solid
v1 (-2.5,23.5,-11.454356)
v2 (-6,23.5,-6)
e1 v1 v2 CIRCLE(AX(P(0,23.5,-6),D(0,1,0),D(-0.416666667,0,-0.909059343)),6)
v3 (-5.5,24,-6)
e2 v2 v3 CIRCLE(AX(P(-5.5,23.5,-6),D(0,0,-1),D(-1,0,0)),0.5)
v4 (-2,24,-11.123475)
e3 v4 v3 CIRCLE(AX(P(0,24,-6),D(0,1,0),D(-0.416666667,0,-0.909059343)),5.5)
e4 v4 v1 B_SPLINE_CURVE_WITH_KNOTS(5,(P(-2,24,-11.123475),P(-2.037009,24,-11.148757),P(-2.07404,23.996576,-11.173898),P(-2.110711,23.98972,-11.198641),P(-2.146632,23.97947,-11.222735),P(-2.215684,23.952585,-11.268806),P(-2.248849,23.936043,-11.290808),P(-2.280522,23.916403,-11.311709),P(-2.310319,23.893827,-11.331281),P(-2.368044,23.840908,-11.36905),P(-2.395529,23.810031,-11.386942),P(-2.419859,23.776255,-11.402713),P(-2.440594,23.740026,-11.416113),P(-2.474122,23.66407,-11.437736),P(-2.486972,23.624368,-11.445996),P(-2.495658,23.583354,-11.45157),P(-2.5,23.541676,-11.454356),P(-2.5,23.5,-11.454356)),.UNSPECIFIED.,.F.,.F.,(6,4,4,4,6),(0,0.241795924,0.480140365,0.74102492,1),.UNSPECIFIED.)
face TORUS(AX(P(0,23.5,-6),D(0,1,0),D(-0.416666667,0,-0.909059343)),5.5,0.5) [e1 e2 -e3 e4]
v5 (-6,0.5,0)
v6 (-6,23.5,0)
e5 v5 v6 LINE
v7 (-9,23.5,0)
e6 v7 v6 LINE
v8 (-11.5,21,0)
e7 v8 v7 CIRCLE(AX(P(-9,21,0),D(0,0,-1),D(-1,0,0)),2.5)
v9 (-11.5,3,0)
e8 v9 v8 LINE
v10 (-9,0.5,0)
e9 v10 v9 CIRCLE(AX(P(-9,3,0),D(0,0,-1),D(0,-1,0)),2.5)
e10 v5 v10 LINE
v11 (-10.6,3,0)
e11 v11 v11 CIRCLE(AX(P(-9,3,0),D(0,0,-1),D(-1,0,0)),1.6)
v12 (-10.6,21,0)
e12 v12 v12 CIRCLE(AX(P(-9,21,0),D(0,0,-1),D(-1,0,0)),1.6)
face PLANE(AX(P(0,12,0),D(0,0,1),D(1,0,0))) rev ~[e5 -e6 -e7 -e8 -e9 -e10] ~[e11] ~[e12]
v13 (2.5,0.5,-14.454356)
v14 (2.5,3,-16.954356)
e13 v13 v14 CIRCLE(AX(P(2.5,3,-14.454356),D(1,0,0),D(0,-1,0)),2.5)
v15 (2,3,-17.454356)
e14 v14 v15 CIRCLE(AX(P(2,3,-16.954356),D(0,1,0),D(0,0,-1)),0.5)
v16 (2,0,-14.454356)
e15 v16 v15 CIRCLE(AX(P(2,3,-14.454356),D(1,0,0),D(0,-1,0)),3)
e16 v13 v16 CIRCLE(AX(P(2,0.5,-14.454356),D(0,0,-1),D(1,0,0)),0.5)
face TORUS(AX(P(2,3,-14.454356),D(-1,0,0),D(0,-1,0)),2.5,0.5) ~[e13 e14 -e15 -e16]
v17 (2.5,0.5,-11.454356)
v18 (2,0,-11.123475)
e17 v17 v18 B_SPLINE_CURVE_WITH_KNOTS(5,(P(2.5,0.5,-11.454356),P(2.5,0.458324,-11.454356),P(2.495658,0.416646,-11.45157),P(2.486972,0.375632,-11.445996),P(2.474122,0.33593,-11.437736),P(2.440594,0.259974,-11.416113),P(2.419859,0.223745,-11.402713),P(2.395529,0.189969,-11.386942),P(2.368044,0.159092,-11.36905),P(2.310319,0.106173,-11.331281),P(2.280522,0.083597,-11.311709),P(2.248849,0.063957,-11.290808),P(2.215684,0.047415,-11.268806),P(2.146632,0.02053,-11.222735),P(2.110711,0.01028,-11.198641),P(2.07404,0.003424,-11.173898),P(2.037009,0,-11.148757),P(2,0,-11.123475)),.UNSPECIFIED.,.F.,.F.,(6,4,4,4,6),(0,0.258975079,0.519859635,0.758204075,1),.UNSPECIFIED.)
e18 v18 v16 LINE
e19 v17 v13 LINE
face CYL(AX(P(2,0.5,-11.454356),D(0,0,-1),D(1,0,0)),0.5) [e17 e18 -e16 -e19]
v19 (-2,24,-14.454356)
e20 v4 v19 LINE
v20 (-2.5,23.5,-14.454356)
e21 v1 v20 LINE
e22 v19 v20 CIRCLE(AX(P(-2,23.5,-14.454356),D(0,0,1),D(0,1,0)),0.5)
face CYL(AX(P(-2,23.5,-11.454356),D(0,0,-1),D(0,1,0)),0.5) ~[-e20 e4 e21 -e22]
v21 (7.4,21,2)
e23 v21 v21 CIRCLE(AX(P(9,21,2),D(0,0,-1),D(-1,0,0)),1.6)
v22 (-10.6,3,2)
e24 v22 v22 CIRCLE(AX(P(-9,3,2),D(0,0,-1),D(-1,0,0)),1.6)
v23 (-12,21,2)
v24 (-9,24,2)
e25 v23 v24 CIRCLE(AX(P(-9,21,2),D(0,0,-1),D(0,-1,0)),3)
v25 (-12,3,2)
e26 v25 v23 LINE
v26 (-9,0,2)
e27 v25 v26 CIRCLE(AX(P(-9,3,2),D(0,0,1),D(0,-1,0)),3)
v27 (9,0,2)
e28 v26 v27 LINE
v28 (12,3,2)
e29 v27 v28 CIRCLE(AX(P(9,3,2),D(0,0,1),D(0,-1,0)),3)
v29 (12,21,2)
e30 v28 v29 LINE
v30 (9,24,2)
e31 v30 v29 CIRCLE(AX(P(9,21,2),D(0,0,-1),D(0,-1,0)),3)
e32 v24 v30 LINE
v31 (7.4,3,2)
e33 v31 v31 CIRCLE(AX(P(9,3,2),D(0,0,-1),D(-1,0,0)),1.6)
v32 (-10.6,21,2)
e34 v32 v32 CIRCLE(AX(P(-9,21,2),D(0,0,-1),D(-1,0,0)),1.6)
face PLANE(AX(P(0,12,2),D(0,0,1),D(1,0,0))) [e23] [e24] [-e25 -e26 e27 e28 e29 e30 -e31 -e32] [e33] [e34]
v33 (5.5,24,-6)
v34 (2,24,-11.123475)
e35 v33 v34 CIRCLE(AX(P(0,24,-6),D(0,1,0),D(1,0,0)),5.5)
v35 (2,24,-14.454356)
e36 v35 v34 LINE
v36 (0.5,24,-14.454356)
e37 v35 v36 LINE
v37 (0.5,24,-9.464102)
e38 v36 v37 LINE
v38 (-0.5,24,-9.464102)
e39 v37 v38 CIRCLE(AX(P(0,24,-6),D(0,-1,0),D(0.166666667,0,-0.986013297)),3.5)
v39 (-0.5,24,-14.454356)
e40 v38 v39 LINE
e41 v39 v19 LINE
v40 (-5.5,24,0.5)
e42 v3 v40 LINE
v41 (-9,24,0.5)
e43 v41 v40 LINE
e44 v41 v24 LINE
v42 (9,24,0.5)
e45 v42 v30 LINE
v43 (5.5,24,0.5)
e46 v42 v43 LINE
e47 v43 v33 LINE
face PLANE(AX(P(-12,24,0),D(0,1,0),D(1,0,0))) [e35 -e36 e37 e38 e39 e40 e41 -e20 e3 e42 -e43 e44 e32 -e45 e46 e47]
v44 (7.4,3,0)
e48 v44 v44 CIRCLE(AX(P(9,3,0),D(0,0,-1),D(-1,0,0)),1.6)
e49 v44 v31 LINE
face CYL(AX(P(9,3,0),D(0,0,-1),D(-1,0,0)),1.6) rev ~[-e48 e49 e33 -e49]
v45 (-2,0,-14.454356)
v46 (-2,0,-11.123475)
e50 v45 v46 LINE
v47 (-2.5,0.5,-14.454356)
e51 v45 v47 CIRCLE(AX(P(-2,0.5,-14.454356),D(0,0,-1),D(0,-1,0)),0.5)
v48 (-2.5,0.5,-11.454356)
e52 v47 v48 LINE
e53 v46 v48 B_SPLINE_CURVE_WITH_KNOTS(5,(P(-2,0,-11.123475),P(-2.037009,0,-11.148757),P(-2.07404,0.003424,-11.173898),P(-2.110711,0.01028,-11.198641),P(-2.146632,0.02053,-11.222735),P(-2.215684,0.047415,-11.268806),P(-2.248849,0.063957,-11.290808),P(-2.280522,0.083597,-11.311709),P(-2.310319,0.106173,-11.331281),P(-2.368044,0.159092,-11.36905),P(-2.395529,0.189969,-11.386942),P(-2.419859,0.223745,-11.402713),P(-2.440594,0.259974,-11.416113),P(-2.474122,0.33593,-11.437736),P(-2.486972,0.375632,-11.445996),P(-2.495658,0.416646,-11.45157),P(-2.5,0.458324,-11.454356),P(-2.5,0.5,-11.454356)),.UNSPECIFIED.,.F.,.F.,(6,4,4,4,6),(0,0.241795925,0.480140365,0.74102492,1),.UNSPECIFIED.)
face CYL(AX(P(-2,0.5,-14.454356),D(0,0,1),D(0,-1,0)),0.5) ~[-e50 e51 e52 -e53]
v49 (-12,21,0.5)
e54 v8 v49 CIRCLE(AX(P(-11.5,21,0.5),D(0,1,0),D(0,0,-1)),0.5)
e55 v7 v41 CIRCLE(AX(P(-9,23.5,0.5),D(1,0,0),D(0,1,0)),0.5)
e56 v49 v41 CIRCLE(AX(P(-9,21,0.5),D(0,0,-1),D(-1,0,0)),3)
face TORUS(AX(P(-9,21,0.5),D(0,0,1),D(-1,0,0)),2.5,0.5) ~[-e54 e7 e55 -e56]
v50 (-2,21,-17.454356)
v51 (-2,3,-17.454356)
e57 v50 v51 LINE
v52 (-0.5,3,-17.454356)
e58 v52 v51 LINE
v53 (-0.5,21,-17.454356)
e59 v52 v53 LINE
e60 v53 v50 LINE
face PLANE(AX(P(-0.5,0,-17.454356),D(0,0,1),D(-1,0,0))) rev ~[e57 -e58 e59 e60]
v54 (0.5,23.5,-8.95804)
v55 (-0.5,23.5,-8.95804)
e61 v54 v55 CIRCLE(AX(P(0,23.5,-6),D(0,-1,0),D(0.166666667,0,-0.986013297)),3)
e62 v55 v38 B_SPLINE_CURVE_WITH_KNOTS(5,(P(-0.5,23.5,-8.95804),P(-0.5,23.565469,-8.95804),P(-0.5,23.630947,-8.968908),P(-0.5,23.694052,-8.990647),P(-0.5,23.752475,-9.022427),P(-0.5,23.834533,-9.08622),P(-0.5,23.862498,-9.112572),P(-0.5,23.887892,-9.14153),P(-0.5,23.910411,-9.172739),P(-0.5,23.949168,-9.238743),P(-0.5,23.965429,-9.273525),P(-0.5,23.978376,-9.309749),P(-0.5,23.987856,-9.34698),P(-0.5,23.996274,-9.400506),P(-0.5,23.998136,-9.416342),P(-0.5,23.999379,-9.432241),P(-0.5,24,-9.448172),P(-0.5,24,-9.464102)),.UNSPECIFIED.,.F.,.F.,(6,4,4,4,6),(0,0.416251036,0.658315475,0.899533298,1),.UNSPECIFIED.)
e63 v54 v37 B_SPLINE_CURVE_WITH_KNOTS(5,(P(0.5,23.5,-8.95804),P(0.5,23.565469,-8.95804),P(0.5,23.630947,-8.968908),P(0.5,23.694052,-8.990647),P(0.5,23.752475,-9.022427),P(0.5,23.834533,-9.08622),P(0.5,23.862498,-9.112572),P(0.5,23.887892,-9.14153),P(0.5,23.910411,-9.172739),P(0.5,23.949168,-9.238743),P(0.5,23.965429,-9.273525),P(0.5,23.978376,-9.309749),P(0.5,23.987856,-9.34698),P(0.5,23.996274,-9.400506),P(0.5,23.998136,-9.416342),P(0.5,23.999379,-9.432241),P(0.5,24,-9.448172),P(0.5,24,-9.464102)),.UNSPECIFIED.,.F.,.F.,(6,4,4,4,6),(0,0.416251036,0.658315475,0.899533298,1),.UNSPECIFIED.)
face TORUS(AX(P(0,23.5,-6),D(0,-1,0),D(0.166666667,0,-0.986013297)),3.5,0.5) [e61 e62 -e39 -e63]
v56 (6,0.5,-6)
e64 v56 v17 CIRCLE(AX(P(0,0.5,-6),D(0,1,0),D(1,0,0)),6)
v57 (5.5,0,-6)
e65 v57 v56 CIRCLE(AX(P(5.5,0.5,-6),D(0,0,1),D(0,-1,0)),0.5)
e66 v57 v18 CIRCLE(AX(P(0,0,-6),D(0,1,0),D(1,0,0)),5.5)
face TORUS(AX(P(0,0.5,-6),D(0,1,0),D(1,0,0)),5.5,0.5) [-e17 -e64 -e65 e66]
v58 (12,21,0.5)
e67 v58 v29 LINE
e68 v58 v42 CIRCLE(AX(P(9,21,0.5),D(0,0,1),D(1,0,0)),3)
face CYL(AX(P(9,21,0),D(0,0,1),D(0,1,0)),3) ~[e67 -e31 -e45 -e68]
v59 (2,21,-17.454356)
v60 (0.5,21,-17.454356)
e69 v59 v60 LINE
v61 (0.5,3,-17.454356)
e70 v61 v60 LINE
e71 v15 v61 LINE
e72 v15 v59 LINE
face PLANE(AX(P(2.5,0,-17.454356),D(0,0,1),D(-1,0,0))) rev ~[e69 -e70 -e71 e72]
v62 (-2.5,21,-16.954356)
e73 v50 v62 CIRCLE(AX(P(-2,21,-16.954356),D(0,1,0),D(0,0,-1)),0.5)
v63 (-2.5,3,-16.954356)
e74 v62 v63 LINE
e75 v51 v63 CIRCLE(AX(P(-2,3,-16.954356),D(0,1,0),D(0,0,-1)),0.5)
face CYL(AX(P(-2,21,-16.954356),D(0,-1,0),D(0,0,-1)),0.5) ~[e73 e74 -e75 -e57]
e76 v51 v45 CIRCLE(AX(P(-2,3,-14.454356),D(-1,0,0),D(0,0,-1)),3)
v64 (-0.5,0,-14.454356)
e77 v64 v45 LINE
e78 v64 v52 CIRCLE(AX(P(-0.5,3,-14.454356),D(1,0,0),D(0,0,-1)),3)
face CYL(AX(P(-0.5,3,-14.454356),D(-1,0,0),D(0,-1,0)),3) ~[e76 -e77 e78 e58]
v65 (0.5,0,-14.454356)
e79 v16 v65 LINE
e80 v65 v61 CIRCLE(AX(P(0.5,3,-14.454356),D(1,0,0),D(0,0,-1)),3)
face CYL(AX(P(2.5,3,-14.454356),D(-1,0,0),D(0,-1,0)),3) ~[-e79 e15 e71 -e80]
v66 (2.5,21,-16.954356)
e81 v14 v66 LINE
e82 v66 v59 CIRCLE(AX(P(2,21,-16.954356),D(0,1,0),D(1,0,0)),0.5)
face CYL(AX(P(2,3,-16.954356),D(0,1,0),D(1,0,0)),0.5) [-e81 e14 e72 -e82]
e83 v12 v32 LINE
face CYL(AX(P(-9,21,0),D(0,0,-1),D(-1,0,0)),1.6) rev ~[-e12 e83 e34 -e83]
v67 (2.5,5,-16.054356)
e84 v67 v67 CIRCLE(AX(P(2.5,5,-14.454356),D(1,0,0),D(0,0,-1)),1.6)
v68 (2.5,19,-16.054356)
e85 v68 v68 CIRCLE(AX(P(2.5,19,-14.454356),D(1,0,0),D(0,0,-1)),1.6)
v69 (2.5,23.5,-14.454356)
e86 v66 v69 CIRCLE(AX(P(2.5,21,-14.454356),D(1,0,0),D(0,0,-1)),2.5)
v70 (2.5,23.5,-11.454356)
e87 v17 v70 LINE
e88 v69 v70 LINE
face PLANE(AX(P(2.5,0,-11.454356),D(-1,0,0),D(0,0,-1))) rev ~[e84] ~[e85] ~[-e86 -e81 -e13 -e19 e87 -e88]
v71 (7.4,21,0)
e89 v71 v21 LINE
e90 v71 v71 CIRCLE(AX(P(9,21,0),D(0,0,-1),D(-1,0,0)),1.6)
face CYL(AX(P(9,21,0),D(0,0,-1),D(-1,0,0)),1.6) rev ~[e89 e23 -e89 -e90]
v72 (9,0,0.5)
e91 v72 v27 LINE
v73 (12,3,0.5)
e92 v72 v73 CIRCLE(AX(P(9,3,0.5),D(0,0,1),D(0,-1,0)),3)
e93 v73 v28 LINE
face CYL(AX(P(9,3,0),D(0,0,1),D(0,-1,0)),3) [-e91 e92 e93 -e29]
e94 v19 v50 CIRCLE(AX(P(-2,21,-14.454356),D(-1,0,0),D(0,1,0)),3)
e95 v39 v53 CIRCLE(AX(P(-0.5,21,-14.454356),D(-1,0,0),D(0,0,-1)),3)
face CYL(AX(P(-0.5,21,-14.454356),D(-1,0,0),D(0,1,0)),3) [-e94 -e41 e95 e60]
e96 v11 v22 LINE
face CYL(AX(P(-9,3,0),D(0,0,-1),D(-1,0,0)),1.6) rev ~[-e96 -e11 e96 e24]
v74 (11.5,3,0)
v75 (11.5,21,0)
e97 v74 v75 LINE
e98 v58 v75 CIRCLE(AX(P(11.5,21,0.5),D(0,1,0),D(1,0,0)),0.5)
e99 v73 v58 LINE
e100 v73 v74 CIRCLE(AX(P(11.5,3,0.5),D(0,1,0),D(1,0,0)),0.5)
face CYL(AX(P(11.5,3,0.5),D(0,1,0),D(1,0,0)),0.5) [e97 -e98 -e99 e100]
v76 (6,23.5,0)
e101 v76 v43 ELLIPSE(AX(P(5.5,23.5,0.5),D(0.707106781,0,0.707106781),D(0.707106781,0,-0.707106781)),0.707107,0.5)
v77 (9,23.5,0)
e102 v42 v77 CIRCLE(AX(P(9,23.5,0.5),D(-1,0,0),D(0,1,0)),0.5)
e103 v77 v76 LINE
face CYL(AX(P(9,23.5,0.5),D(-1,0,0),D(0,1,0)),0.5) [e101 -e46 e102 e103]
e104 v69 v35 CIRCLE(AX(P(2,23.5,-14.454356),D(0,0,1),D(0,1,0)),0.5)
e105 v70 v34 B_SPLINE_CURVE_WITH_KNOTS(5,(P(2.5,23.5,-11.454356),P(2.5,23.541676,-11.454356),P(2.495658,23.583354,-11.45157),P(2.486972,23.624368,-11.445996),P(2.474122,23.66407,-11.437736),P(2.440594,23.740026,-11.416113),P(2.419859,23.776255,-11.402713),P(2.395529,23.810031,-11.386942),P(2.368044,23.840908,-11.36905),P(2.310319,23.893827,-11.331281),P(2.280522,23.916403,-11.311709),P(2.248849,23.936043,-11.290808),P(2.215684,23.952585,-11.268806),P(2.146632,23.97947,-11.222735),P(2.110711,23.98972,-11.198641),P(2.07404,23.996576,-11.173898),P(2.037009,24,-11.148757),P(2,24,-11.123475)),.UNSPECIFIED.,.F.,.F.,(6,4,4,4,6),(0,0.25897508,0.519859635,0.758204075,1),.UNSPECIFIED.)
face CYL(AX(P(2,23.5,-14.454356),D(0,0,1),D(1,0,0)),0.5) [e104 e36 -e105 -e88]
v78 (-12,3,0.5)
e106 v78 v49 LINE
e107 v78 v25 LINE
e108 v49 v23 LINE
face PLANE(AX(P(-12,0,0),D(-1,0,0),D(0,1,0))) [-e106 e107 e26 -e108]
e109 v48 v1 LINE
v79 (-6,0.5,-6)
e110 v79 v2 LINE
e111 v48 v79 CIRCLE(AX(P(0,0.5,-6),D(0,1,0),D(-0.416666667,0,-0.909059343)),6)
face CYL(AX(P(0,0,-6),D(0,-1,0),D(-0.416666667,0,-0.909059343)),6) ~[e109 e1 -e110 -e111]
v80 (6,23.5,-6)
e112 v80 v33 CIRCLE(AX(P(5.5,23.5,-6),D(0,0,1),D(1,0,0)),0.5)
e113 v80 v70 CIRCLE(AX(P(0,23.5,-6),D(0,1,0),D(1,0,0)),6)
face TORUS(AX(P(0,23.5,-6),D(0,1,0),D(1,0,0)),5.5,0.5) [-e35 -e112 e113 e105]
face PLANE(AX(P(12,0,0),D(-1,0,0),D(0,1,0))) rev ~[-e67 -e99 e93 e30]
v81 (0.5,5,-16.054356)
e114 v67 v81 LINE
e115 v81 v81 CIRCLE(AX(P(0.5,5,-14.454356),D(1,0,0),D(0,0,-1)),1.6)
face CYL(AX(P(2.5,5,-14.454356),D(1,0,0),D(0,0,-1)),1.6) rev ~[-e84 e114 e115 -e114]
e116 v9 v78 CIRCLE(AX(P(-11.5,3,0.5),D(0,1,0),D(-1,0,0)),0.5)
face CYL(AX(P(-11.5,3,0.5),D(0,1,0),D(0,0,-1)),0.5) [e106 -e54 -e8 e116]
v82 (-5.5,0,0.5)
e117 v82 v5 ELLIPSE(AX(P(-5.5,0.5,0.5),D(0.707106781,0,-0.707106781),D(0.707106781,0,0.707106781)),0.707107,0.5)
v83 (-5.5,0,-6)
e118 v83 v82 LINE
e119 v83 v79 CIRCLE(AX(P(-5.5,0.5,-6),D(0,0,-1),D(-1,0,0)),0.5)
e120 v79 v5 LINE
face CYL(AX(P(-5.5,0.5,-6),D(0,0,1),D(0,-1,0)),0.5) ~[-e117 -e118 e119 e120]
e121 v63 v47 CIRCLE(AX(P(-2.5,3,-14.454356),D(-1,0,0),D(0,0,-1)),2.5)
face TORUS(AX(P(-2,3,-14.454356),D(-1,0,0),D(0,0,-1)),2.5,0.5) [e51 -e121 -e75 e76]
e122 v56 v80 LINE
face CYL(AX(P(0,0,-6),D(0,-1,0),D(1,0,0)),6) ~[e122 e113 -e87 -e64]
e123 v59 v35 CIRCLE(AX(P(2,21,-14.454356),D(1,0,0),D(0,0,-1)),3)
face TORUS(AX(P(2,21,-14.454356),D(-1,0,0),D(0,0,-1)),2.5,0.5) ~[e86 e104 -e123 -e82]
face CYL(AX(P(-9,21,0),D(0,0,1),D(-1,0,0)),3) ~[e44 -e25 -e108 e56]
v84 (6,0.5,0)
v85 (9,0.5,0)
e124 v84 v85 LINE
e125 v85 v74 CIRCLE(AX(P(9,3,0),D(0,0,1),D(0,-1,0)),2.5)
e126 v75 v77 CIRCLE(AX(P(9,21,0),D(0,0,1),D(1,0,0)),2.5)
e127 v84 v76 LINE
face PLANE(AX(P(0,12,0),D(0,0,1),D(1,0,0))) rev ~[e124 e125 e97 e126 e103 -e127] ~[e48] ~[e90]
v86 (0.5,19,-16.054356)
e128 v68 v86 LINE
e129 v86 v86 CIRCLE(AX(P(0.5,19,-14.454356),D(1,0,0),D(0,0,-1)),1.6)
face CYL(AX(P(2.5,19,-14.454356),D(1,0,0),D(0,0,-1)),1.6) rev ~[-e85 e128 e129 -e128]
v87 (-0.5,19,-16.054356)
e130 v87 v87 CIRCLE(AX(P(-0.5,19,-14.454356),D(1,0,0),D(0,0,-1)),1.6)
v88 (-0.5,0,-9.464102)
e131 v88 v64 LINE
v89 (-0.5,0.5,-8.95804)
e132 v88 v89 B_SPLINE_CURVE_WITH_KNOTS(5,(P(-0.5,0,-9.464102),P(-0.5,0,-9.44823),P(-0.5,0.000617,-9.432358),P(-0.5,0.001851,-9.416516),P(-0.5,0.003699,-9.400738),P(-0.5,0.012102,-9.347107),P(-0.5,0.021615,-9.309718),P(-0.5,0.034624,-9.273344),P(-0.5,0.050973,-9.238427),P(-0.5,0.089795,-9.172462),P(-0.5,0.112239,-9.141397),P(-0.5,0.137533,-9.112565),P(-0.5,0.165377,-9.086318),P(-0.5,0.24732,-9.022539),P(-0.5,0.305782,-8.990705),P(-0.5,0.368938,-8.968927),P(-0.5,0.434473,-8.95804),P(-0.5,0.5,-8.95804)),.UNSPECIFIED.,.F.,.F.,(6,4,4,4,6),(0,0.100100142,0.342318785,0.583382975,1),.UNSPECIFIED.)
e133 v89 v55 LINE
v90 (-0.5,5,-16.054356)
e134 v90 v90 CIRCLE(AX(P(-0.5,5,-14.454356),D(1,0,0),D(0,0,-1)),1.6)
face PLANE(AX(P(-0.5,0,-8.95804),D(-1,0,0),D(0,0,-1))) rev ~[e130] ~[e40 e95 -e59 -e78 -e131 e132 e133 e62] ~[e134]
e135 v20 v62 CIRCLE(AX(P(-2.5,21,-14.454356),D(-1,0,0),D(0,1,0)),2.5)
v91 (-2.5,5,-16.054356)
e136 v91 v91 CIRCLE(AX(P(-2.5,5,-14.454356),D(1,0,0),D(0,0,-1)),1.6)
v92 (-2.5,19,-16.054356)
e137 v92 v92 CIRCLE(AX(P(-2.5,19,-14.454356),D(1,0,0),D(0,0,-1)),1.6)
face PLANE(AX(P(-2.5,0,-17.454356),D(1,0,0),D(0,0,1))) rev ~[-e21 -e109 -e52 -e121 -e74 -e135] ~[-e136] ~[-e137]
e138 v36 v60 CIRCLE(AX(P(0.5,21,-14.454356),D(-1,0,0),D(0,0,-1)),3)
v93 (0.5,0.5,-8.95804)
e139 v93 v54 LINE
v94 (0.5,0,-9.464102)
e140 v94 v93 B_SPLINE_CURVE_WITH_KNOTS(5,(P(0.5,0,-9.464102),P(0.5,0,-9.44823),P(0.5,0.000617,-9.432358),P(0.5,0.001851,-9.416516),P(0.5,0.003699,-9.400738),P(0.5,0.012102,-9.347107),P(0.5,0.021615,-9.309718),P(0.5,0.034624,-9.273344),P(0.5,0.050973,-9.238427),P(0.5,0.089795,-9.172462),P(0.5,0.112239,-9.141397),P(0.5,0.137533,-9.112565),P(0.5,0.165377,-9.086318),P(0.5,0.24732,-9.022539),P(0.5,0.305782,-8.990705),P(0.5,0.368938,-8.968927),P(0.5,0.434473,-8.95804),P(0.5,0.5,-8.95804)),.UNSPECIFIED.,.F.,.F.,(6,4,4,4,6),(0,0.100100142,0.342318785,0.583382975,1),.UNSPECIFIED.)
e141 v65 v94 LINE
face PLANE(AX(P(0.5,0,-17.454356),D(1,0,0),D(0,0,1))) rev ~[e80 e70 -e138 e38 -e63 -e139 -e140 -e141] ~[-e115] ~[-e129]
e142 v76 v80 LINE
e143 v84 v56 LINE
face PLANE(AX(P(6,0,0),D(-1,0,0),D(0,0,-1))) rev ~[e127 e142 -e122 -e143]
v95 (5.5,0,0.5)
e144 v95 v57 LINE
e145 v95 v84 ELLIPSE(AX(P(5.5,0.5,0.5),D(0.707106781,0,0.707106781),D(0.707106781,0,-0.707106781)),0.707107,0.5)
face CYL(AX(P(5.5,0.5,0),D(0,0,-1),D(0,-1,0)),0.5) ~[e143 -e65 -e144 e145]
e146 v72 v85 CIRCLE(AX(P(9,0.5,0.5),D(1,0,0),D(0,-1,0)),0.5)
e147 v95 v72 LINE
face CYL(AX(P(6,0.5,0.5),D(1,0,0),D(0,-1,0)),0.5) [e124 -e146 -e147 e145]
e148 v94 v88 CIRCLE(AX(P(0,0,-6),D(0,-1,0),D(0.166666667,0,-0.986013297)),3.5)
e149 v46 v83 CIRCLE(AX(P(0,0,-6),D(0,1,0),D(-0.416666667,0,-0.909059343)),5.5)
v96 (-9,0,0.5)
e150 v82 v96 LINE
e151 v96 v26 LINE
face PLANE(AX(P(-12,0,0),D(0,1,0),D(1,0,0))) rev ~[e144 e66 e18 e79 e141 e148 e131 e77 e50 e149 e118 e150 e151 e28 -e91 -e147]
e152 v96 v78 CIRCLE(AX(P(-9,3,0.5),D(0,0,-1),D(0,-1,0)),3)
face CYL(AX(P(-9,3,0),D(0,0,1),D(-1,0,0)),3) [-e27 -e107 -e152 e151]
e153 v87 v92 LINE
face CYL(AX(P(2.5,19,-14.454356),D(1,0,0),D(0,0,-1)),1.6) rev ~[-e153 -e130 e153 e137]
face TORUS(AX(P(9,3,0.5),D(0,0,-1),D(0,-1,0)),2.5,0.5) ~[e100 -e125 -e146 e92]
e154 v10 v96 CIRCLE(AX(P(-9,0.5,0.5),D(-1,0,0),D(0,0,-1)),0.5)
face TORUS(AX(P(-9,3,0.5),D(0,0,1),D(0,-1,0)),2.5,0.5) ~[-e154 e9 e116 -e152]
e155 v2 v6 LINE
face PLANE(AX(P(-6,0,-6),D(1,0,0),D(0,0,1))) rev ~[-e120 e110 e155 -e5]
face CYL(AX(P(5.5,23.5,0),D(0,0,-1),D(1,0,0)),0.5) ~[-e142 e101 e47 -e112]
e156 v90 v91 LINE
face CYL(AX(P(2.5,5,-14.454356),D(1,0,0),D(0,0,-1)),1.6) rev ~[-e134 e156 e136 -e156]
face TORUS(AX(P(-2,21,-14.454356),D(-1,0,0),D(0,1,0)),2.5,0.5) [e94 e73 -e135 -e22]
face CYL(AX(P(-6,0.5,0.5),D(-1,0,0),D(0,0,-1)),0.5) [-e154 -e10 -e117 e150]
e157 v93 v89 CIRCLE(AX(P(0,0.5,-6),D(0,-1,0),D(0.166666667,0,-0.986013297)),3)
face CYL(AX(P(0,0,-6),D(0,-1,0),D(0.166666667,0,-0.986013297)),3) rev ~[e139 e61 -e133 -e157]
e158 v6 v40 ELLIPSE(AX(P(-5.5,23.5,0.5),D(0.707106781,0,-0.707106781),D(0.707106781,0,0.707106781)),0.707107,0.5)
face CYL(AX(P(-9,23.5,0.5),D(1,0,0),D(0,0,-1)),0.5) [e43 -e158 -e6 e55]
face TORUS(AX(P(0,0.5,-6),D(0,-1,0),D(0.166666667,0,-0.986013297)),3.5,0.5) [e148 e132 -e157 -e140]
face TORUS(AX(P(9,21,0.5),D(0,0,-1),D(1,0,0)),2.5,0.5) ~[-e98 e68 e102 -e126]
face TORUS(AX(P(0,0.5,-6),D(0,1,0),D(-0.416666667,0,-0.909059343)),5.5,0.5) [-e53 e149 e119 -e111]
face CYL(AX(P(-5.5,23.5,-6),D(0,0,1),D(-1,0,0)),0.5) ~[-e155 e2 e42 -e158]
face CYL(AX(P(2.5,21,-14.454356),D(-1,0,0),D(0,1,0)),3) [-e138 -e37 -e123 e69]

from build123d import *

# Parameters (mm, degrees)
BOSS_EXTRUDE1_DEPTH = 24
SKETCH2_R           = 1.6
CUT_EXTRUDE1_DEPTH  = 9.5
SKETCH3_W           = 24
SKETCH3_H           = 24
BOSS_EXTRUDE2_DEPTH = 2
SKETCH4_R           = 1.6
CUT_EXTRUDE2_DEPTH  = 3
FILLET3_R           = 3
FILLET4_R           = 3
FILLET5_R           = 0.5
FILLET6_R           = 0.5


with BuildPart() as part:
    # Sketch1 → Boss-Extrude1 (new body)
    with BuildSketch(Plane(origin=(0, 0, 0), x_dir=(1, 0, 0), z_dir=(0, 1, 0))):
        with BuildLine():
            Line((-6, 6), (-6, 0))
            Line((-6, 0), (6, 0))
            Line((6, 0), (6, 6))
            ThreePointArc((6, 6), (5.049752469, 9.240370349), (2.5, 11.454356057))
            Line((2.5, 11.454356057), (2.5, 17.454356057))
            Line((2.5, 17.454356057), (0.5, 17.454356057))
            Line((0.5, 17.454356057), (0.5, 8.958039892))
            ThreePointArc((0.5, 8.958039892), (0, 3), (-0.5, 8.958039892))
            Line((-0.5, 8.958039892), (-0.5, 17.454356057))
            Line((-0.5, 17.454356057), (-2.5, 17.454356057))
            Line((-2.5, 17.454356057), (-2.5, 11.454356057))
            ThreePointArc((-2.5, 11.454356057), (-5.049752469, 9.240370349), (-6, 6))
        make_face()
    extrude(amount=BOSS_EXTRUDE1_DEPTH)

    # Sketch2 → Cut-Extrude1 (cut, through all)
    with BuildSketch(Plane(origin=(2.5, 0, 0), x_dir=(0, 0, -1), z_dir=(1, 0, 0))):
        with Locations((14.454356057, 19)):
            Circle(SKETCH2_R)
        with Locations((14.454356057, 5)):
            Circle(SKETCH2_R)
    extrude(amount=-CUT_EXTRUDE1_DEPTH, mode=Mode.SUBTRACT)

    # Sketch3 → Boss-Extrude2 (add)
    with BuildSketch(Plane.XY):
        with Locations((0, 12)):
            Rectangle(SKETCH3_W, SKETCH3_H)
    extrude(amount=BOSS_EXTRUDE2_DEPTH)

    # Sketch4 → Cut-Extrude2 (cut)
    with BuildSketch(Plane(origin=(0, 0, 0), x_dir=(-1, 0, 0), z_dir=(0, 0, -1))):
        with Locations((9, 3)):
            Circle(SKETCH4_R)
        with Locations((9, 21)):
            Circle(SKETCH4_R)
        with Locations((-9, 21)):
            Circle(SKETCH4_R)
        with Locations((-9, 3)):
            Circle(SKETCH4_R)
    extrude(amount=-CUT_EXTRUDE2_DEPTH, mode=Mode.SUBTRACT)

    # Fillet3
    fillet3_edges = [part.edges().sort_by_distance(p)[0] for p in [
        (12, 0, 1),
        (12, 24, 1),
        (-12, 24, 1),
        (-12, 0, 1),
    ]]
    fillet(fillet3_edges, radius=FILLET3_R)

    # Fillet4
    fillet4_edges = [part.edges().sort_by_distance(p)[0] for p in [
        (-1.5, 0, -17.454356057),
        (1.5, 0, -17.454356057),
        (1.5, 24, -17.454356057),
        (-1.5, 24, -17.454356057),
    ]]
    fillet(fillet4_edges, radius=FILLET4_R)

    # Fillet5
    fillet5_edges = [part.edges().sort_by_distance(p)[0] for p in [
        (0, 0, -3),
        (0, 24, -3),
    ]]
    fillet(fillet5_edges, radius=FILLET5_R)

    # Fillet6
    fillet6_edges = [part.edges().sort_by_distance(p)[0] for p in [
        (2.5, 12, -17.454356057),
        (-2.5, 0, -12.954356057),
        (2.5, 23.121320344, -16.575676401),
        (2.5, 0.878679656, -16.575676401),
        (-2.5, 24, -12.954356057),
        (-2.5, 12, -17.454356057),
        (-2.5, 23.121320344, -16.575676401),
        (-2.5, 0.878679656, -16.575676401),
        (6, 24, -3),
        (2.5, 0, -12.954356057),
        (5.049752469, 0, -9.240370349),
        (6, 0, -3),
        (-6, 0, -3),
        (-5.049752469, 0, -9.240370349),
        (5.049752469, 24, -9.240370349),
        (2.5, 24, -12.954356057),
        (-5.049752469, 24, -9.240370349),
        (-7.5, 24, 0),
        (7.5, 0, 0),
        (-6, 24, -3),
        (-7.5, 0, 0),
        (-12, 12, 0),
        (-11.121320344, 23.121320344, 0),
        (-11.121320344, 0.878679656, 0),
        (12, 12, 0),
        (7.5, 24, 0),
        (11.121320344, 23.121320344, 0),
        (11.121320344, 0.878679656, 0),
    ]]
    fillet(fillet6_edges, radius=FILLET6_R)


solid = part.part
